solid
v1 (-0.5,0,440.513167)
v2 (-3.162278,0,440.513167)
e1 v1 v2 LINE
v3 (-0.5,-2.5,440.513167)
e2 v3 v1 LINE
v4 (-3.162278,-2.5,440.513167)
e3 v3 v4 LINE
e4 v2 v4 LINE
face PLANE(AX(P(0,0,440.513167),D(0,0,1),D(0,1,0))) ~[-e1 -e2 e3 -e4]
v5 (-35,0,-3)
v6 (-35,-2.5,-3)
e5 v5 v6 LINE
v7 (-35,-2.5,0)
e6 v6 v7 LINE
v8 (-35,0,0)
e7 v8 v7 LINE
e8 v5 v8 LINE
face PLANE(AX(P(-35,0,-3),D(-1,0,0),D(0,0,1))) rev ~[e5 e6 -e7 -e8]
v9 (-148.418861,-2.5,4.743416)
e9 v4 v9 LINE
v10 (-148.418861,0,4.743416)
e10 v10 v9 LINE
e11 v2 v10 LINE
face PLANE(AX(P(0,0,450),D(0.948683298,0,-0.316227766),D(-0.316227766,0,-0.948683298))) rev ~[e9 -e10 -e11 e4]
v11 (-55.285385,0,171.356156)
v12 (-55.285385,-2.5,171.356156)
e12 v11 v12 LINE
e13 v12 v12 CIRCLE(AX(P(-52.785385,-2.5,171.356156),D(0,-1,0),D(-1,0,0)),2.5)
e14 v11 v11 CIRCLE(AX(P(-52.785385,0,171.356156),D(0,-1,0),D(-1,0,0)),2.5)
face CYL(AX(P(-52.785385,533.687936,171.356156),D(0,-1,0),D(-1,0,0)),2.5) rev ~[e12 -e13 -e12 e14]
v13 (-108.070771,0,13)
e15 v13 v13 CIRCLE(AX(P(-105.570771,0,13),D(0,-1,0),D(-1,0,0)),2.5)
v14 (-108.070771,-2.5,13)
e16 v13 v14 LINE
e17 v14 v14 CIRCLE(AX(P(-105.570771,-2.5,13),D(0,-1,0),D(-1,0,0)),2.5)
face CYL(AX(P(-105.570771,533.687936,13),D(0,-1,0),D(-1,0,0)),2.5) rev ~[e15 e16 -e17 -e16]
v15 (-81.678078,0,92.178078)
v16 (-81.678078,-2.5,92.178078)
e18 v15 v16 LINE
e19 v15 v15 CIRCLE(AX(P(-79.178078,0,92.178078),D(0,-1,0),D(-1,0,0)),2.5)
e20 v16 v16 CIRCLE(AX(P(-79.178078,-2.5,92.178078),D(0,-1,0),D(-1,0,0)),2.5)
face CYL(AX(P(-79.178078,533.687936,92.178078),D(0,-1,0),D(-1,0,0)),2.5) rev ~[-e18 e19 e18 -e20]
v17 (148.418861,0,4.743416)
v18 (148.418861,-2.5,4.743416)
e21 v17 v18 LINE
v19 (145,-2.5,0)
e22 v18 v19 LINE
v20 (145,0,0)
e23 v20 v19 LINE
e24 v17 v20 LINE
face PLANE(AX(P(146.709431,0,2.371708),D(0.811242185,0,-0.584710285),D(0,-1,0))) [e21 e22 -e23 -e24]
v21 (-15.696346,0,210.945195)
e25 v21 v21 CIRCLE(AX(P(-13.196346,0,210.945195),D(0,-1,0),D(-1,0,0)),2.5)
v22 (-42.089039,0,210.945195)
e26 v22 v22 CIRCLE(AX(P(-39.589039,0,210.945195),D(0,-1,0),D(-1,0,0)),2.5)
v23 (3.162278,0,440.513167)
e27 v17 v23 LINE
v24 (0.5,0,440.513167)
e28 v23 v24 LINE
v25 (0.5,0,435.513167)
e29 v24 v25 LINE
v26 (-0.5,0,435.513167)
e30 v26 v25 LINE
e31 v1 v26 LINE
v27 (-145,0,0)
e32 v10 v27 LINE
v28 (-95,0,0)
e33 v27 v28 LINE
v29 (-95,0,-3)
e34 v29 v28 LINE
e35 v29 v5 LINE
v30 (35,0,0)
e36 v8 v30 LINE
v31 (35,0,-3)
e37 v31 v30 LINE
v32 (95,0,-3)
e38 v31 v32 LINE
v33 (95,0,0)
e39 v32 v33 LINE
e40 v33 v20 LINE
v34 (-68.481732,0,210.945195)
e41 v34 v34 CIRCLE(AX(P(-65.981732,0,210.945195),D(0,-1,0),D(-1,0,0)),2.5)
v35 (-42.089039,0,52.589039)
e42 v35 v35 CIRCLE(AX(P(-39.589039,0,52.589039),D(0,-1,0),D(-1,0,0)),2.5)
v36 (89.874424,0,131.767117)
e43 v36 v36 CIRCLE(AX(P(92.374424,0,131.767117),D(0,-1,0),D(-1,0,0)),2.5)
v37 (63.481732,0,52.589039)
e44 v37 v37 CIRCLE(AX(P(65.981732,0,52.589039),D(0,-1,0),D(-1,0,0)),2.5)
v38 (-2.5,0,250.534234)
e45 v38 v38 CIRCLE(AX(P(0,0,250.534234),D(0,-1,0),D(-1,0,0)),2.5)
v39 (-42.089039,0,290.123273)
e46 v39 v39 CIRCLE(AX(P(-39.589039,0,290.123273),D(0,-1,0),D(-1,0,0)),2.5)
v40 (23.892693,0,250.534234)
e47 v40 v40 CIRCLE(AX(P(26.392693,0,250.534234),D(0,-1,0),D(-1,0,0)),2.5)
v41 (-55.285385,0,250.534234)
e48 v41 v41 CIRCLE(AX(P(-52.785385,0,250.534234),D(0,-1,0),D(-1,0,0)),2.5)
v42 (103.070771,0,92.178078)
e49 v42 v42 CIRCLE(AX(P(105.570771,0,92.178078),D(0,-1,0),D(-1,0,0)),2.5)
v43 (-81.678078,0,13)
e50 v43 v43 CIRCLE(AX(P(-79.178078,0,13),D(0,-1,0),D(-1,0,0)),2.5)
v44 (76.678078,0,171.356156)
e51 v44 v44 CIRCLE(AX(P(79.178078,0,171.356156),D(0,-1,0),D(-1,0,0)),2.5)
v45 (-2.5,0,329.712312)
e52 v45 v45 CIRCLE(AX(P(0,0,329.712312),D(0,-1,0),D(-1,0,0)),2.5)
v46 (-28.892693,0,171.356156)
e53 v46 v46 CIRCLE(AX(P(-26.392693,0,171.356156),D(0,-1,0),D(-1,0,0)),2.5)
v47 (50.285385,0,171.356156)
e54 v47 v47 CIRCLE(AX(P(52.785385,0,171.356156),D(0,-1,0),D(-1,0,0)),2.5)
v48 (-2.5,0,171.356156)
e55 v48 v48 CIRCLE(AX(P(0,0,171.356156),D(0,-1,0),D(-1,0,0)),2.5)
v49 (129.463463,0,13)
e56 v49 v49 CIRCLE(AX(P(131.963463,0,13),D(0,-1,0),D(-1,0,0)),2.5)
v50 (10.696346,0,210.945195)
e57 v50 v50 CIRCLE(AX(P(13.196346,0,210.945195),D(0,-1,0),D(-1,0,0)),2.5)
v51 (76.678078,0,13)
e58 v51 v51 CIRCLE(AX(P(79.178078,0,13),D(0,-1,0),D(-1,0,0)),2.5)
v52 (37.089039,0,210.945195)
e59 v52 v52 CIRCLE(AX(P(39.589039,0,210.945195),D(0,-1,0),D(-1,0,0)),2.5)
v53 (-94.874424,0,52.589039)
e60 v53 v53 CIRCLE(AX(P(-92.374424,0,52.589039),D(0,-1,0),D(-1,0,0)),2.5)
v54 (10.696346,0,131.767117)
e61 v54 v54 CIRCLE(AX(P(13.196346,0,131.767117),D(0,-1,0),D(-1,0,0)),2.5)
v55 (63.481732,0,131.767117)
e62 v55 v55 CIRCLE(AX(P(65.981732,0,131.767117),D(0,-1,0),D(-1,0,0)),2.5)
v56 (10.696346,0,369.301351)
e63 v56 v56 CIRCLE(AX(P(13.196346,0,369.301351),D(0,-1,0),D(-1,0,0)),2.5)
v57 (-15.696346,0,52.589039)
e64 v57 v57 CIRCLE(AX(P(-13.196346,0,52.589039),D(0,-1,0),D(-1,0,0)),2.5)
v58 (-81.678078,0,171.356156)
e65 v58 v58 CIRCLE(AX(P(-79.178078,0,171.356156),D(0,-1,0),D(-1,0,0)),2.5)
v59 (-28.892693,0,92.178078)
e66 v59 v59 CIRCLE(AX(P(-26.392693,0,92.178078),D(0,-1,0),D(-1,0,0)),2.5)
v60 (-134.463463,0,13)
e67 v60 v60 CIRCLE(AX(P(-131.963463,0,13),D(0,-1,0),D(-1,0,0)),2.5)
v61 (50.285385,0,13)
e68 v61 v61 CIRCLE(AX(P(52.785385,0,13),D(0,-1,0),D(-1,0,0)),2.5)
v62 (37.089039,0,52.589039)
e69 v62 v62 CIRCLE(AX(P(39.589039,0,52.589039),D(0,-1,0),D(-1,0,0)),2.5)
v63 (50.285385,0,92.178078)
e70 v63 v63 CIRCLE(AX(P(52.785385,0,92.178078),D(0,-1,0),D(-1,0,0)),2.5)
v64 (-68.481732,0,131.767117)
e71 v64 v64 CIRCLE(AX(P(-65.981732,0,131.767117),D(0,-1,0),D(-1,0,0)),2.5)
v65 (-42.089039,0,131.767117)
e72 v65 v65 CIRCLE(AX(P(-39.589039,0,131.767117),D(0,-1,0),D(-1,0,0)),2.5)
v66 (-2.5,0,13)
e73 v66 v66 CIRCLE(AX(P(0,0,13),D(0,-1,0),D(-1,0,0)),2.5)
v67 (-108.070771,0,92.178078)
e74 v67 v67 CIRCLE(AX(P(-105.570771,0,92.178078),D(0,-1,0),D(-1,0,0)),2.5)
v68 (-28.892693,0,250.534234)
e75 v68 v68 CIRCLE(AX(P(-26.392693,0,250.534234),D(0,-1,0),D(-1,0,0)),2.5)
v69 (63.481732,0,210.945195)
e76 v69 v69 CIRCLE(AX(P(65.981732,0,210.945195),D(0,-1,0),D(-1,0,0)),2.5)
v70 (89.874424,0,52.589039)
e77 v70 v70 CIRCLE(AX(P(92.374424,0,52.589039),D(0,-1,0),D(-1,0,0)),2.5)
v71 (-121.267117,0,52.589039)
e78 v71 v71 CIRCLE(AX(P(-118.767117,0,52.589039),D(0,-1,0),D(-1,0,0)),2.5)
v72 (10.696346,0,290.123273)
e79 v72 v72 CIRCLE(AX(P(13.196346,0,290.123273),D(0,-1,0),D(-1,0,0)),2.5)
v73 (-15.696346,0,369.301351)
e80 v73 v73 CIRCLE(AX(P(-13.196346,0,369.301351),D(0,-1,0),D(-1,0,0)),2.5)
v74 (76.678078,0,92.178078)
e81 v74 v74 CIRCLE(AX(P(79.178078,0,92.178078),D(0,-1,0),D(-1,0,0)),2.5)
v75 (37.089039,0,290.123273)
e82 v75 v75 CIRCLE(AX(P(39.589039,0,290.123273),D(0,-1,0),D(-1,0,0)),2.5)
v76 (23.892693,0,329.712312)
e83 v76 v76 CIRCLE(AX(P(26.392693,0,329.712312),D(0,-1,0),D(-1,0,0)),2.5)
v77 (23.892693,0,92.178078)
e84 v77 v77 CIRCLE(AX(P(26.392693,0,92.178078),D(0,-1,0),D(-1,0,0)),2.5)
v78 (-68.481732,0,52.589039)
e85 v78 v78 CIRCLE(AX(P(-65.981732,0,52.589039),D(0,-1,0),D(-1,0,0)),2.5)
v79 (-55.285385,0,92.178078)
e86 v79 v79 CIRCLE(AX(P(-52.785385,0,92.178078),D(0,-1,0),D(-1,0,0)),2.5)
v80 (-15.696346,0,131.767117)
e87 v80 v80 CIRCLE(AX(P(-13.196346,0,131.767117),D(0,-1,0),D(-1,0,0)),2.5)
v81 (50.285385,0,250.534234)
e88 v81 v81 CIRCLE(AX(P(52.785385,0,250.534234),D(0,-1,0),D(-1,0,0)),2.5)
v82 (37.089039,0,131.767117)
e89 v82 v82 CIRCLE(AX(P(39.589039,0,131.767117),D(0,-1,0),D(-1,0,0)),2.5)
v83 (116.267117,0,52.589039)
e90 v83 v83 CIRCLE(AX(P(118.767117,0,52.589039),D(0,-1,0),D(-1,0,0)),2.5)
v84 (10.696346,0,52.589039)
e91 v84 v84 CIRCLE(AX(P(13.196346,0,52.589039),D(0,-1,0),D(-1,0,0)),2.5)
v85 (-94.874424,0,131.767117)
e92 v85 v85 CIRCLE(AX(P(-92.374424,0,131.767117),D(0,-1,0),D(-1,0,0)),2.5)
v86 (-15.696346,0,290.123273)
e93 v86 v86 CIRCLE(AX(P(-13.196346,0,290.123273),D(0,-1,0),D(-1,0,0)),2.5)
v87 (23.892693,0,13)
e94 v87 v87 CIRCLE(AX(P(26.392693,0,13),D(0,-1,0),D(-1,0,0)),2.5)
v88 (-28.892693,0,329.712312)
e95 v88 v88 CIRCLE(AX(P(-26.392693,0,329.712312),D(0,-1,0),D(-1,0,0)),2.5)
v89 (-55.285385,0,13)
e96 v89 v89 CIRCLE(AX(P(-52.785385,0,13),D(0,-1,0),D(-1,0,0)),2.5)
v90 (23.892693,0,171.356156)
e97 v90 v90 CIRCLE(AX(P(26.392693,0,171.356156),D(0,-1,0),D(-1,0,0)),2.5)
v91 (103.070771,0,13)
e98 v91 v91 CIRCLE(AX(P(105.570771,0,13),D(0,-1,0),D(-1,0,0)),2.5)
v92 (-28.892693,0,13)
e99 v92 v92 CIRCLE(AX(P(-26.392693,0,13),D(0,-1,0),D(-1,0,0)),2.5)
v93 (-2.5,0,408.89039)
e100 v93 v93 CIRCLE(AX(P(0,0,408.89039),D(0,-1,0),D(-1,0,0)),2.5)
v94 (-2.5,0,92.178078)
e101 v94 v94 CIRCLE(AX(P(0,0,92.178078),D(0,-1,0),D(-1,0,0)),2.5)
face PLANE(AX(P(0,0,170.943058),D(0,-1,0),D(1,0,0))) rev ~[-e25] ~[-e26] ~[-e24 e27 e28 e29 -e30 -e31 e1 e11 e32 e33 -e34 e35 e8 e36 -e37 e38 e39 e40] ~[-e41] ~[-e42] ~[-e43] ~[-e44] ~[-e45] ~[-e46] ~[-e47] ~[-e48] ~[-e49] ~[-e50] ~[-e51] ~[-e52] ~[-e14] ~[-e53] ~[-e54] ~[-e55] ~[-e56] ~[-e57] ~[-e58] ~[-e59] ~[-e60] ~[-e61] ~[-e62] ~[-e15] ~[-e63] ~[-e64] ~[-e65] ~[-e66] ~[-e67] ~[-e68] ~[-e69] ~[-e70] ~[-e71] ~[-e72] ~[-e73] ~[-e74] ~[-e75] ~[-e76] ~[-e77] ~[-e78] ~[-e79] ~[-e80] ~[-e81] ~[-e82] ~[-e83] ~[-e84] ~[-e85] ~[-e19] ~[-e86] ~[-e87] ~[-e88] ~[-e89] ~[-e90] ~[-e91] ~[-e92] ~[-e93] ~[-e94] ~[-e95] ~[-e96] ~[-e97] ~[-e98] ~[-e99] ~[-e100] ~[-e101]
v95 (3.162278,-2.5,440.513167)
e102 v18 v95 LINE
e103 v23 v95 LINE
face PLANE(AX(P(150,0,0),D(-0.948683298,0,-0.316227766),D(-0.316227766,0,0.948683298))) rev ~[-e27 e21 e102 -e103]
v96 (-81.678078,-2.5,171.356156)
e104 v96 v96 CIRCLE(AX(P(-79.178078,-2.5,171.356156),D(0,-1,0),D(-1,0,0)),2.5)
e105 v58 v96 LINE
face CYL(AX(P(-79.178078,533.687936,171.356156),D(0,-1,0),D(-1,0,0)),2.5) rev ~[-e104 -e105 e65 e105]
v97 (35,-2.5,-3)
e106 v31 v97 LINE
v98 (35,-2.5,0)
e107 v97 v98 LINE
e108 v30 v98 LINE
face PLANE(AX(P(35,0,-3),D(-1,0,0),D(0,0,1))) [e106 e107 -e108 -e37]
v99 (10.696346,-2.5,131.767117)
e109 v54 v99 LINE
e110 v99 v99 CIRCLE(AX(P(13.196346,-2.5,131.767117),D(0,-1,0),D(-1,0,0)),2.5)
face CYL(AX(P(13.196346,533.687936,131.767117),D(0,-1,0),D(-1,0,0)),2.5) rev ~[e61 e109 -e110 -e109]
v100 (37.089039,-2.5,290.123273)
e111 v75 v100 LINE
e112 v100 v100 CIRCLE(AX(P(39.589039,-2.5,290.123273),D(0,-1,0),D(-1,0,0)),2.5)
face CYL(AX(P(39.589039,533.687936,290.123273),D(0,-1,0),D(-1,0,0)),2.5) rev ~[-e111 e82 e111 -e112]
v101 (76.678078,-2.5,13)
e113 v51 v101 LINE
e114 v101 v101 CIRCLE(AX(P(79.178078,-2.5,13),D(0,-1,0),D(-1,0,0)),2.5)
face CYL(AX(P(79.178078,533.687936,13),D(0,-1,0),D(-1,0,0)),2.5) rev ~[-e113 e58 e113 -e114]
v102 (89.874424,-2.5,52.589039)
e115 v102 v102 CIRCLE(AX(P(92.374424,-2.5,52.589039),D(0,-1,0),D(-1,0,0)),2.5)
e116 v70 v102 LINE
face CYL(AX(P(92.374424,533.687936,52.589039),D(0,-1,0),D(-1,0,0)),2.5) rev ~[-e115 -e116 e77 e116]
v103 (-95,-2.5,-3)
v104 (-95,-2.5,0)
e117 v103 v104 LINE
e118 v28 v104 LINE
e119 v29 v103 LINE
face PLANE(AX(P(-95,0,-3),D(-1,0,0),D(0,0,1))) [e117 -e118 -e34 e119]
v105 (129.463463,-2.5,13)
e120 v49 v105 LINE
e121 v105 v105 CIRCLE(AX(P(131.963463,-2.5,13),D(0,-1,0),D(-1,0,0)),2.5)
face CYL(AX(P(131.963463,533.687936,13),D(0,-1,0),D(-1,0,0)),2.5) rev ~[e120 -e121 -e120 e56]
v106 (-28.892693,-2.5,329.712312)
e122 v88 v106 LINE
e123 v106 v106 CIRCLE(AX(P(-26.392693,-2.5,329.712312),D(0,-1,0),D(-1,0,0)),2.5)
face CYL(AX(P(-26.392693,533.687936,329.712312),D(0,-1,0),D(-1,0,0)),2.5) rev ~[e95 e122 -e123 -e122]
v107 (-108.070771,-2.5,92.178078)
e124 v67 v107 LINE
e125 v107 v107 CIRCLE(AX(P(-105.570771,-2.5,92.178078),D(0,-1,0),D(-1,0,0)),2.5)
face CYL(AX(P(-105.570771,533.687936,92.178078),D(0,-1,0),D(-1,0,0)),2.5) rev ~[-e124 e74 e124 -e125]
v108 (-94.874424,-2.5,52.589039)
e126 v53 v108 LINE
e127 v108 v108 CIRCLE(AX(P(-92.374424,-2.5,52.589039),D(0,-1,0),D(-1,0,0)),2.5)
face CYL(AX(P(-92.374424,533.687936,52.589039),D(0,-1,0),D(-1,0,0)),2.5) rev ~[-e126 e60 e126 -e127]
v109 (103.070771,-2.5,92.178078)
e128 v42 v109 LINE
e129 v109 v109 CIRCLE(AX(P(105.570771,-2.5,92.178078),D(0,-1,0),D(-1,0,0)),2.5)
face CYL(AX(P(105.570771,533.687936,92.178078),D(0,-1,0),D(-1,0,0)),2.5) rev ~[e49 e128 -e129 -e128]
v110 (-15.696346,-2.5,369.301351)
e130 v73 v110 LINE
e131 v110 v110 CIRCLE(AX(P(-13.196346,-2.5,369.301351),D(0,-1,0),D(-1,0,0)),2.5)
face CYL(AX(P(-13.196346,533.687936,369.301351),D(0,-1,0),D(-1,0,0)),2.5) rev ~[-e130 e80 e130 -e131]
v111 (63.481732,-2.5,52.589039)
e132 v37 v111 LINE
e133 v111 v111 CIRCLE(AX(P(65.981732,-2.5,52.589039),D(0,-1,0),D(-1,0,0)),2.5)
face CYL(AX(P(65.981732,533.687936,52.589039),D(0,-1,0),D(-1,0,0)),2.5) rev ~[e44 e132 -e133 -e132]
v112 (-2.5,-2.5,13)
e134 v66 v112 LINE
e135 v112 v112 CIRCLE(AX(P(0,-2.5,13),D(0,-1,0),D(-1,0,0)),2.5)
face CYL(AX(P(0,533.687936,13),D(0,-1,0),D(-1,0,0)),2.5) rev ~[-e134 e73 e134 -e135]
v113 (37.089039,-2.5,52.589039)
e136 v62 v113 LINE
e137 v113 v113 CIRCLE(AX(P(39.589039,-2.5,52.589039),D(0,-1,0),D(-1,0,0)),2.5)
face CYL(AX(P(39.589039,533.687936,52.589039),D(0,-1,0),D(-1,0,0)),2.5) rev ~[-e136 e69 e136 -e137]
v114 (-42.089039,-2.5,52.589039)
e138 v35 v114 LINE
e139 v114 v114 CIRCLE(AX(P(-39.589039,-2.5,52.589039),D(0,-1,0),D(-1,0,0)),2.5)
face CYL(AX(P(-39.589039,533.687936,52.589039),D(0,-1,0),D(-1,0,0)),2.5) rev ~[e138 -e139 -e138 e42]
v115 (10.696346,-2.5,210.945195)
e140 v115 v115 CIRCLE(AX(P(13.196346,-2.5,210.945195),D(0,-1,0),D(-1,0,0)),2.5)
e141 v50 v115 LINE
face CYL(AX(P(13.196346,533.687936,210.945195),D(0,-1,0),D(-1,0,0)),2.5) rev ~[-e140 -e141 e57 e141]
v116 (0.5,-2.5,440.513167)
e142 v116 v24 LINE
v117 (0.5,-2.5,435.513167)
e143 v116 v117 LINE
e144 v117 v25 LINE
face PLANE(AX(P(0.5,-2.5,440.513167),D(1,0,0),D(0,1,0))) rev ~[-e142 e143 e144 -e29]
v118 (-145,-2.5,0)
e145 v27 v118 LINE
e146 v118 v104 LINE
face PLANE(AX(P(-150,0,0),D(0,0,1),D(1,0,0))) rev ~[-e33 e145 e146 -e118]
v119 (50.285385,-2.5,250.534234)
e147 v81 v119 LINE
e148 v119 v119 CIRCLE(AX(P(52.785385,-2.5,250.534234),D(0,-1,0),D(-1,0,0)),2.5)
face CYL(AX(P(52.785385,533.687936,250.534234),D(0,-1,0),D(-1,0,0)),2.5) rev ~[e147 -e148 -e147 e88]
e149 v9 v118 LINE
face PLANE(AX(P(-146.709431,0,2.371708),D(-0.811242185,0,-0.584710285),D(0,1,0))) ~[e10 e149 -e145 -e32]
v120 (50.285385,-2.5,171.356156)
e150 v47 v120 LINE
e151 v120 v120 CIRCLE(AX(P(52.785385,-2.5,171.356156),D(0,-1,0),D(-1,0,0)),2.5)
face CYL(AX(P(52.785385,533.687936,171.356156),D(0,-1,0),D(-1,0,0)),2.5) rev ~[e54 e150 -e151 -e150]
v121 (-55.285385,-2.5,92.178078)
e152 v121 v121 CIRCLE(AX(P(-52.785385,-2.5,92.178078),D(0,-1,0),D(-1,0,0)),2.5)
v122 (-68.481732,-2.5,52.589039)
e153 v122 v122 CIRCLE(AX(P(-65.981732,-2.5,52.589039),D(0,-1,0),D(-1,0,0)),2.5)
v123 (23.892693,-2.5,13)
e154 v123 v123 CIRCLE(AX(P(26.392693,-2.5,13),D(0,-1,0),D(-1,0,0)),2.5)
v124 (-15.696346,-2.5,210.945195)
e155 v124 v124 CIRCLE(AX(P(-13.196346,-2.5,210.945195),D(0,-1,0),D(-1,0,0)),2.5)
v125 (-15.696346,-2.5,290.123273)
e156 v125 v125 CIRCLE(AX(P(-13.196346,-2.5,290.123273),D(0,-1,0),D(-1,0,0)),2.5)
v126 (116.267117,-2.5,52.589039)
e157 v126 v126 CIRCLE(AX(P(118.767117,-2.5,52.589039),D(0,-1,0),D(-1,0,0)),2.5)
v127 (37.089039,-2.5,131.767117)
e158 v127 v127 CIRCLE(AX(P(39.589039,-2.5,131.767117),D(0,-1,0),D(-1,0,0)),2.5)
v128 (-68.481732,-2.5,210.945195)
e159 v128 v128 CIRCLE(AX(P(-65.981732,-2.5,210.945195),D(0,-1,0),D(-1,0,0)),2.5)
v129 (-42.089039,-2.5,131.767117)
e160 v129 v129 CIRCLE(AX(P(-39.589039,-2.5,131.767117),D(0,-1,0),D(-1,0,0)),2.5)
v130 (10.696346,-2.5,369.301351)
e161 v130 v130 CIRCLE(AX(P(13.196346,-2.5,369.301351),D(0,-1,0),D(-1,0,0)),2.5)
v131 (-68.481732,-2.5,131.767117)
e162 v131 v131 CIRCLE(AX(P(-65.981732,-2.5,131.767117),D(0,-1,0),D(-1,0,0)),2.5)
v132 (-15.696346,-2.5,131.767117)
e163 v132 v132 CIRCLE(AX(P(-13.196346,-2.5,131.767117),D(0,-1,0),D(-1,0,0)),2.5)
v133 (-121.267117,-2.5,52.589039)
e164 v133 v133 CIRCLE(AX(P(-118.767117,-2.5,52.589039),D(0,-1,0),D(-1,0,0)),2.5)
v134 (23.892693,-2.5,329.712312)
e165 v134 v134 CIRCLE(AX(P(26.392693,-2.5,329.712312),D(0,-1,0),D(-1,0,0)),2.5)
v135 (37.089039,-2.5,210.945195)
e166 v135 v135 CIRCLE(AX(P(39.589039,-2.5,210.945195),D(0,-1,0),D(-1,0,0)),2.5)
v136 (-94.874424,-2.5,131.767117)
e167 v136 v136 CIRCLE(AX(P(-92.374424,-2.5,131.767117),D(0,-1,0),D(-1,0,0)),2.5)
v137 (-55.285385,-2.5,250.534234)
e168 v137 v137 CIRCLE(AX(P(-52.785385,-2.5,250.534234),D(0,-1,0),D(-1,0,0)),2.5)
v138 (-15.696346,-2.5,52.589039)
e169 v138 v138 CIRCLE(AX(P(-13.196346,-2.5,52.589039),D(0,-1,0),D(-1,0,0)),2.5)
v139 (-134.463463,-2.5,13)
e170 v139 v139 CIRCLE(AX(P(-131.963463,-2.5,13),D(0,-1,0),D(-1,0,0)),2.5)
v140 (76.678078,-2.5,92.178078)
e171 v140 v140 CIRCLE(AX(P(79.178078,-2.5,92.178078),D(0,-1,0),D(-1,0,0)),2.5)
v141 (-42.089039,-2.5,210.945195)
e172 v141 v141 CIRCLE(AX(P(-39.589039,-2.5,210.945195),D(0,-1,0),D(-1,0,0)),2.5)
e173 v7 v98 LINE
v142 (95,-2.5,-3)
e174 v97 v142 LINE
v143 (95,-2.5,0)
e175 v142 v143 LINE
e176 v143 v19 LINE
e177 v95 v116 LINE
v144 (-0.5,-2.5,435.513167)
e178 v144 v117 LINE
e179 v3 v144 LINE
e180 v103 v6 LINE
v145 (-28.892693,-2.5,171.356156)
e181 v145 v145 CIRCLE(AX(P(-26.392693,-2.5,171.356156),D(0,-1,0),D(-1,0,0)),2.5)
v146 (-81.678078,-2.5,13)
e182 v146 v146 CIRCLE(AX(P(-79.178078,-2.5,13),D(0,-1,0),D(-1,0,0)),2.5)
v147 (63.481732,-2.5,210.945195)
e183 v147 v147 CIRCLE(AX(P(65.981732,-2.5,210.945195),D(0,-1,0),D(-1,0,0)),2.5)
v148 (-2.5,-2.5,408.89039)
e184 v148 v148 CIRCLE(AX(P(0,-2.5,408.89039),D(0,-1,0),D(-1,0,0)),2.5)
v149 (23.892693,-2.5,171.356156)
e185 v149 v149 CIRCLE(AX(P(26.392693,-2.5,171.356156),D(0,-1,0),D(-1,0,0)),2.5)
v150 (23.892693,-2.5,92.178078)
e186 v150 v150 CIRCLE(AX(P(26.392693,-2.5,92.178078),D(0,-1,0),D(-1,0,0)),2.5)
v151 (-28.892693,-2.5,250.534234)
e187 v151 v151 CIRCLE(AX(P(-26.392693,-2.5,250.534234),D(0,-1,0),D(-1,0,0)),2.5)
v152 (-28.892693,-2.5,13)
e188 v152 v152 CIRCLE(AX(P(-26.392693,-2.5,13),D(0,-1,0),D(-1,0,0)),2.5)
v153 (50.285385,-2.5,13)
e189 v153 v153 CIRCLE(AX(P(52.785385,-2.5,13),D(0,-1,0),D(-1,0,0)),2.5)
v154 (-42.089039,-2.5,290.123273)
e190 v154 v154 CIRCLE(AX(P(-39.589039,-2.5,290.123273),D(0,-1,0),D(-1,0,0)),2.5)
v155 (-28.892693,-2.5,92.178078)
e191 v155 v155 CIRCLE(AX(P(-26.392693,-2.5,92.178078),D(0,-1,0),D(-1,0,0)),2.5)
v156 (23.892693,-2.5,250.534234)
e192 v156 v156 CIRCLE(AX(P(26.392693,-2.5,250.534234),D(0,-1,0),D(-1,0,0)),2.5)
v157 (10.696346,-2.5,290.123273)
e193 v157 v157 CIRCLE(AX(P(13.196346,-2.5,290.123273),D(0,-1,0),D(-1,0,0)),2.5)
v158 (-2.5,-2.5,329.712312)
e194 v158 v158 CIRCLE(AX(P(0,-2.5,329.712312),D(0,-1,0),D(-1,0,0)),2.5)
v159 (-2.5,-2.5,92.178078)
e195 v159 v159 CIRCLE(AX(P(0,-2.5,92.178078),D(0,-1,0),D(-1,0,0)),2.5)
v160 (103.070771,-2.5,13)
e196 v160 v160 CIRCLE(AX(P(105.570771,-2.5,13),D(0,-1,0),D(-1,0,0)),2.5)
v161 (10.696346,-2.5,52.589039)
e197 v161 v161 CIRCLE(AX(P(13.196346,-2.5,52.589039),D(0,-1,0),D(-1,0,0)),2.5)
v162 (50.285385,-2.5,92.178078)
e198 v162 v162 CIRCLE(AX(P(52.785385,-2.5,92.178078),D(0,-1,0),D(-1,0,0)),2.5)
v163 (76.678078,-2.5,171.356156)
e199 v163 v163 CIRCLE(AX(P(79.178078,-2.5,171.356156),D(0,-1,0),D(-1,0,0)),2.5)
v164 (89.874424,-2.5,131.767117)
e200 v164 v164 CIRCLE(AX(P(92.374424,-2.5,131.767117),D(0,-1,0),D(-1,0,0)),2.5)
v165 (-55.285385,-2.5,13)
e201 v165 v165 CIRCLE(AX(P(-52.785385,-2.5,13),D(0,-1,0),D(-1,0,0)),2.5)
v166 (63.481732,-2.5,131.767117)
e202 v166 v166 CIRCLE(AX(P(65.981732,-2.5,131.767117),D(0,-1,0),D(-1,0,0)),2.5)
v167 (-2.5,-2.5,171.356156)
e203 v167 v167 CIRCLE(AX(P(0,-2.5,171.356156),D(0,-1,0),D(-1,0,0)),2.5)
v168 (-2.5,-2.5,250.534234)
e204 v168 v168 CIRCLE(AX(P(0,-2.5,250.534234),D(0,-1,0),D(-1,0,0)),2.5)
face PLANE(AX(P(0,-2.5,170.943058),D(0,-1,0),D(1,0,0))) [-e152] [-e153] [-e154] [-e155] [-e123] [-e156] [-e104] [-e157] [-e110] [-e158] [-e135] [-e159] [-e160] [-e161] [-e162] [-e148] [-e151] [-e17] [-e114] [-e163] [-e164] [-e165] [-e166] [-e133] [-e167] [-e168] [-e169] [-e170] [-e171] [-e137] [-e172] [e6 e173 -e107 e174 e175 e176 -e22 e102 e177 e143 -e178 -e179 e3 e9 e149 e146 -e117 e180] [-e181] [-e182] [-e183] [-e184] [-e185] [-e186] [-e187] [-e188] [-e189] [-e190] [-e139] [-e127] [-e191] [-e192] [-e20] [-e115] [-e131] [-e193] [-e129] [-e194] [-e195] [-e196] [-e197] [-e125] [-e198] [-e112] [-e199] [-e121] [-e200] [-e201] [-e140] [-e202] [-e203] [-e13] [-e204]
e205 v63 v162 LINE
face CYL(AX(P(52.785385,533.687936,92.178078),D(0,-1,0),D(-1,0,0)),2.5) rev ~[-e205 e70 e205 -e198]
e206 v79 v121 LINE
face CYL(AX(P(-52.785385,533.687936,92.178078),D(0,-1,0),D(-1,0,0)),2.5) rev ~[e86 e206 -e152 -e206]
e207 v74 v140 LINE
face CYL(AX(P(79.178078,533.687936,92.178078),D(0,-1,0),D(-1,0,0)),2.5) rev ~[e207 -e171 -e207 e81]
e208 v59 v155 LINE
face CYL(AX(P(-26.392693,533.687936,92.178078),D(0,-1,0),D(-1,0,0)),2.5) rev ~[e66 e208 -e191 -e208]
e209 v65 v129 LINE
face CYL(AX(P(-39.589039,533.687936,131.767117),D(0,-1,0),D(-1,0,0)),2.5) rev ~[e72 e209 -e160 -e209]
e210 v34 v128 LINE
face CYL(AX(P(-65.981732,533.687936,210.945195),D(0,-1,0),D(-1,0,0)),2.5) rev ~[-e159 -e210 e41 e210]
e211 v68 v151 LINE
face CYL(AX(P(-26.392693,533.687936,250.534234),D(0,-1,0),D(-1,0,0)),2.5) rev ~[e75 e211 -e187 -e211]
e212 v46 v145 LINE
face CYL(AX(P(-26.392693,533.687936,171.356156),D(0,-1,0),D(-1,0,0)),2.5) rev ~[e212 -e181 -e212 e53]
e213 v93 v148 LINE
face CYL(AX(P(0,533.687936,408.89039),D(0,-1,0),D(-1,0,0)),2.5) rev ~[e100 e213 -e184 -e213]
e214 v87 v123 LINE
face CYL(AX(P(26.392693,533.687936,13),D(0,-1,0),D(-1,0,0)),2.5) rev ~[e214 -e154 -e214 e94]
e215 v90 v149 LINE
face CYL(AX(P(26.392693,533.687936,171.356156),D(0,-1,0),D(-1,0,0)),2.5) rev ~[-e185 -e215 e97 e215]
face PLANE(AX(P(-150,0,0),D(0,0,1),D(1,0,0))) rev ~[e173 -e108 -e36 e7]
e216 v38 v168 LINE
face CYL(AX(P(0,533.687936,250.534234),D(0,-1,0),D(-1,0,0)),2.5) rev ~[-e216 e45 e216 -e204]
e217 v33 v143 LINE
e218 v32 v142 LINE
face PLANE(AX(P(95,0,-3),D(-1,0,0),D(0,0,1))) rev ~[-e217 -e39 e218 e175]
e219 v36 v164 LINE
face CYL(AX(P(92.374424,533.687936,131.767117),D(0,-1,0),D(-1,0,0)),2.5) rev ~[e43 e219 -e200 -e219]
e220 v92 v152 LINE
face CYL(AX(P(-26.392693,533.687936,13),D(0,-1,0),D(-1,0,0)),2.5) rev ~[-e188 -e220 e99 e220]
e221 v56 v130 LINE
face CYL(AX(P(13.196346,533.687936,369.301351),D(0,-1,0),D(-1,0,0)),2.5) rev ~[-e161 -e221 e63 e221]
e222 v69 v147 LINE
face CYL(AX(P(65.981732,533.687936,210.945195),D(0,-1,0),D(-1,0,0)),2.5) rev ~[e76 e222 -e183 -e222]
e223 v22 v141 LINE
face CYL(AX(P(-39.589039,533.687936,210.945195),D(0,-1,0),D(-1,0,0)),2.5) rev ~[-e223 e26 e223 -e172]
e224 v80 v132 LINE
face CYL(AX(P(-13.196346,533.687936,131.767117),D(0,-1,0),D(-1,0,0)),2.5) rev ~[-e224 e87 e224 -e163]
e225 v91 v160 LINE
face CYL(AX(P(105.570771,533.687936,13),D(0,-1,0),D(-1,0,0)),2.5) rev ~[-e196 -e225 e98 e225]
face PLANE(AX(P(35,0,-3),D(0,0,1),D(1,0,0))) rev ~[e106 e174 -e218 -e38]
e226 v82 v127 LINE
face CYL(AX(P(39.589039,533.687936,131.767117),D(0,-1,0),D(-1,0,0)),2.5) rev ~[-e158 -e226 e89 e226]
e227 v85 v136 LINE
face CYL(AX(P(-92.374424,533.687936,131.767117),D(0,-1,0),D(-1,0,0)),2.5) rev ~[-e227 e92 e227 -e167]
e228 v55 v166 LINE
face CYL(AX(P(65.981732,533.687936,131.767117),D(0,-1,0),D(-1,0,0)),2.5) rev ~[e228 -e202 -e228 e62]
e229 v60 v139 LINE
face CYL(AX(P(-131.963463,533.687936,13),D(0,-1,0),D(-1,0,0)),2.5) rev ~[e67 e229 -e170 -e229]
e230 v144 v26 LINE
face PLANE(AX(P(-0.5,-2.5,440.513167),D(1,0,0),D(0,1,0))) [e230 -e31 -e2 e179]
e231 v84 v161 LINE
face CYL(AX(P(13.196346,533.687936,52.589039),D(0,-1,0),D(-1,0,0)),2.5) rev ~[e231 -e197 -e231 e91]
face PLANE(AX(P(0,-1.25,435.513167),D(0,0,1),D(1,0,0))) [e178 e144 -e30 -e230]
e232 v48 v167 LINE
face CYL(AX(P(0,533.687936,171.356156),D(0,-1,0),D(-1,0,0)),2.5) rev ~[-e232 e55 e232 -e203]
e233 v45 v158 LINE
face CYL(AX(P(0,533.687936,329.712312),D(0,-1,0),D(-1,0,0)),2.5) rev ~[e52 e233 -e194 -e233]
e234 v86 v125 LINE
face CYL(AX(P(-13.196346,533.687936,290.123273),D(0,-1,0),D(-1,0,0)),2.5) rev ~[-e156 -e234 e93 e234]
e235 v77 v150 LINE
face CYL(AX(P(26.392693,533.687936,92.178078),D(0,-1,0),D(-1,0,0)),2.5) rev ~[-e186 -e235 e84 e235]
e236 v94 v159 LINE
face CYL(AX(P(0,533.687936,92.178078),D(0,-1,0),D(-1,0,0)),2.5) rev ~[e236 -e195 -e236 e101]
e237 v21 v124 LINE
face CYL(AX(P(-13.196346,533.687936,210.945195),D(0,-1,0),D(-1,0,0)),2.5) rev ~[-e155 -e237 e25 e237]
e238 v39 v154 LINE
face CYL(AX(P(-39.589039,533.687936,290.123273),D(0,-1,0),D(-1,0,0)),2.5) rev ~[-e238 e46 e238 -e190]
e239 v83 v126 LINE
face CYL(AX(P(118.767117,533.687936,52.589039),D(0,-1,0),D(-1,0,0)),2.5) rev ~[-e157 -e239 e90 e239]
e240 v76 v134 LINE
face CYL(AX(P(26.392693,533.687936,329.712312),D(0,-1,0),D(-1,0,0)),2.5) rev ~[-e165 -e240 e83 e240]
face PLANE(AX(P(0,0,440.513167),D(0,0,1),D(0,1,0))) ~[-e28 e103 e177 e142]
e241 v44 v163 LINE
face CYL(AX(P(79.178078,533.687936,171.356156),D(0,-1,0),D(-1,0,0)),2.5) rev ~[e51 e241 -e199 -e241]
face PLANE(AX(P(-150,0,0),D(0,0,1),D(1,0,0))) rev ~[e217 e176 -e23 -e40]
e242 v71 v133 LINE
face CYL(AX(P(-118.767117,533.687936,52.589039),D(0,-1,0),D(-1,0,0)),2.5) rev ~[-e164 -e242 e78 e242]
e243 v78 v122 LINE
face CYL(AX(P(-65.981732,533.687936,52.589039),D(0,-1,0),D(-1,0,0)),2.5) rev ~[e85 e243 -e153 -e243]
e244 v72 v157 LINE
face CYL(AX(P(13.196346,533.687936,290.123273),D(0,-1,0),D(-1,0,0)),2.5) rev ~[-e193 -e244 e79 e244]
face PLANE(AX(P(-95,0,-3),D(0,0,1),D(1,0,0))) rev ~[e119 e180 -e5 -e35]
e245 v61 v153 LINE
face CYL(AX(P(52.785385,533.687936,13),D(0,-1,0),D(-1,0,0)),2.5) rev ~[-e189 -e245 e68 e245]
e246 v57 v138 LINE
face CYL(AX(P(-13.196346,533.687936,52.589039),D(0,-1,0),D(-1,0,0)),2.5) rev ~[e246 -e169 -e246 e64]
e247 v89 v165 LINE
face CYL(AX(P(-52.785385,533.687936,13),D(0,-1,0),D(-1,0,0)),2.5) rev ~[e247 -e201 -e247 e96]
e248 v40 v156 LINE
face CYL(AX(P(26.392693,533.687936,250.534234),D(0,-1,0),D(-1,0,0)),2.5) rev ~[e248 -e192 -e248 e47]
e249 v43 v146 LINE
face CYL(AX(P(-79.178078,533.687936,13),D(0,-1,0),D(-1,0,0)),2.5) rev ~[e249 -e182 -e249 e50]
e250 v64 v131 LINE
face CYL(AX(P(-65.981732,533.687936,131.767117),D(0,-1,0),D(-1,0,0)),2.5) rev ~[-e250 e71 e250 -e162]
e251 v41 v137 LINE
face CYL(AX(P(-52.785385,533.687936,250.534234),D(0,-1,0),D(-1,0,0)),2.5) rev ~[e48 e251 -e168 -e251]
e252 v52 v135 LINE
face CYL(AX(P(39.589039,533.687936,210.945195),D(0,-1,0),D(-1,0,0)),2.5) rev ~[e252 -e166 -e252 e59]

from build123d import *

# Parameters (mm, degrees)
F1_DEPTH = 2.5
F10_SIZE = 5
F2_W     = 60
F2_H     = 3
F3_DEPTH = 2.5
F4_SIZE  = 10
F5_W     = 1
F5_H     = 2.5
F6_DEPTH = 5
F8_D     = 5


with BuildPart() as f1:
    # F0 (on Front) → F1 (new body)
    with BuildSketch(Plane.XZ):
        Polygon((150, 0), (0, 450), (-150, 0), align=None)
    extrude(amount=F1_DEPTH)

    # F10
    f10_edges = [f1.edges().sort_by_distance(p)[0] for p in [
        (150, -1.25, 0),
        (-150, -1.25, 0),
    ]]
    chamfer(f10_edges, length=F10_SIZE)

    # F2 (on Front) → F3 (join)
    with BuildSketch(Plane.XZ):
        with Locations((-65, -1.5)):
            Rectangle(F2_W, F2_H)
        with Locations((65, -1.5)):
            Rectangle(F2_W, F2_H)
    extrude(amount=F3_DEPTH)

    # F4
    f4_edges = [f1.edges().sort_by_distance(p)[0] for p in [
        (0, -1.25, 450),
    ]]
    chamfer(f4_edges, length=F4_SIZE)

    # F5 (on face) → F6 (cut)
    with BuildSketch(Plane.XY.offset(440.5131670195)):
        with Locations((0, -1.25)):
            Rectangle(F5_W, F5_H)
    extrude(amount=-F6_DEPTH, mode=Mode.SUBTRACT)

    # F8 (through all)
    with Locations(Plane(origin=(0, 0, 0), x_dir=(1, 0, 0), z_dir=(0, 1, 0))):
        with Locations((-131.9634634726, -13), (-105.5707707781, -13), (-79.1780780836, -13), (-52.785385389, -13), (-26.3926926945, -13), (0, -13), (26.3926926945, -13), (52.785385389, -13), (79.1780780836, -13), (105.5707707781, -13), (131.9634634726, -13), (118.7671171253, -52.5890390418), (92.3744244308, -52.5890390418), (-52.785385389, -92.1780780836), (-39.5890390418, -210.9451952089), (39.5890390418, -52.5890390418), (-26.3926926945, -92.1780780836), (-118.7671171253, -52.5890390418), (-13.1963463473, -210.9451952089), (39.5890390418, -131.7671171253), (-65.9817317363, -131.7671171253), (0, -92.1780780836), (13.1963463473, -210.9451952089), (-79.1780780836, -171.3561561671), (-39.5890390418, -131.7671171253), (13.1963463473, -52.5890390418), (-26.3926926945, -250.5342342507), (-39.5890390418, -290.1232732925), (39.5890390418, -210.9451952089), (-52.785385389, -171.3561561671), (-13.1963463473, -131.7671171253), (-105.5707707781, -92.1780780836), (-65.9817317363, -52.5890390418), (0, -250.5342342507), (-92.3744244308, -52.5890390418), (-65.9817317363, -210.9451952089), (-26.3926926945, -171.3561561671), (13.1963463473, -131.7671171253), (26.3926926945, -92.1780780836), (-39.5890390418, -52.5890390418), (-13.1963463473, -290.1232732925), (26.3926926945, -250.5342342507), (0, -171.3561561671), (-92.3744244308, -131.7671171253), (-13.1963463473, -52.5890390418), (13.1963463473, -290.1232732925), (-79.1780780836, -92.1780780836), (26.3926926945, -171.3561561671), (39.5890390418, -290.1232732925), (-52.785385389, -250.5342342507), (65.9817317363, -210.9451952089), (52.785385389, -250.5342342507), (52.785385389, -171.3561561671), (79.1780780836, -171.3561561671), (65.9817317363, -131.7671171253), (52.785385389, -92.1780780836), (79.1780780836, -92.1780780836), (92.3744244308, -131.7671171253), (105.5707707781, -92.1780780836), (65.9817317363, -52.5890390418), (26.3926926945, -329.7123123342), (13.1963463473, -369.301351376), (0, -408.8903904178), (-13.1963463473, -369.301351376), (-26.3926926945, -329.7123123342), (0, -329.7123123342), (26.3926926945, -329.7123123342), (79.1780780836, -171.3561561671), (65.9817317363, -131.7671171253), (52.785385389, -92.1780780836), (79.1780780836, -92.1780780836), (92.3744244308, -131.7671171253), (105.5707707781, -92.1780780836), (92.3744244308, -131.7671171253), (105.5707707781, -92.1780780836)):
            Hole(F8_D / 2)


solid = f1.part
